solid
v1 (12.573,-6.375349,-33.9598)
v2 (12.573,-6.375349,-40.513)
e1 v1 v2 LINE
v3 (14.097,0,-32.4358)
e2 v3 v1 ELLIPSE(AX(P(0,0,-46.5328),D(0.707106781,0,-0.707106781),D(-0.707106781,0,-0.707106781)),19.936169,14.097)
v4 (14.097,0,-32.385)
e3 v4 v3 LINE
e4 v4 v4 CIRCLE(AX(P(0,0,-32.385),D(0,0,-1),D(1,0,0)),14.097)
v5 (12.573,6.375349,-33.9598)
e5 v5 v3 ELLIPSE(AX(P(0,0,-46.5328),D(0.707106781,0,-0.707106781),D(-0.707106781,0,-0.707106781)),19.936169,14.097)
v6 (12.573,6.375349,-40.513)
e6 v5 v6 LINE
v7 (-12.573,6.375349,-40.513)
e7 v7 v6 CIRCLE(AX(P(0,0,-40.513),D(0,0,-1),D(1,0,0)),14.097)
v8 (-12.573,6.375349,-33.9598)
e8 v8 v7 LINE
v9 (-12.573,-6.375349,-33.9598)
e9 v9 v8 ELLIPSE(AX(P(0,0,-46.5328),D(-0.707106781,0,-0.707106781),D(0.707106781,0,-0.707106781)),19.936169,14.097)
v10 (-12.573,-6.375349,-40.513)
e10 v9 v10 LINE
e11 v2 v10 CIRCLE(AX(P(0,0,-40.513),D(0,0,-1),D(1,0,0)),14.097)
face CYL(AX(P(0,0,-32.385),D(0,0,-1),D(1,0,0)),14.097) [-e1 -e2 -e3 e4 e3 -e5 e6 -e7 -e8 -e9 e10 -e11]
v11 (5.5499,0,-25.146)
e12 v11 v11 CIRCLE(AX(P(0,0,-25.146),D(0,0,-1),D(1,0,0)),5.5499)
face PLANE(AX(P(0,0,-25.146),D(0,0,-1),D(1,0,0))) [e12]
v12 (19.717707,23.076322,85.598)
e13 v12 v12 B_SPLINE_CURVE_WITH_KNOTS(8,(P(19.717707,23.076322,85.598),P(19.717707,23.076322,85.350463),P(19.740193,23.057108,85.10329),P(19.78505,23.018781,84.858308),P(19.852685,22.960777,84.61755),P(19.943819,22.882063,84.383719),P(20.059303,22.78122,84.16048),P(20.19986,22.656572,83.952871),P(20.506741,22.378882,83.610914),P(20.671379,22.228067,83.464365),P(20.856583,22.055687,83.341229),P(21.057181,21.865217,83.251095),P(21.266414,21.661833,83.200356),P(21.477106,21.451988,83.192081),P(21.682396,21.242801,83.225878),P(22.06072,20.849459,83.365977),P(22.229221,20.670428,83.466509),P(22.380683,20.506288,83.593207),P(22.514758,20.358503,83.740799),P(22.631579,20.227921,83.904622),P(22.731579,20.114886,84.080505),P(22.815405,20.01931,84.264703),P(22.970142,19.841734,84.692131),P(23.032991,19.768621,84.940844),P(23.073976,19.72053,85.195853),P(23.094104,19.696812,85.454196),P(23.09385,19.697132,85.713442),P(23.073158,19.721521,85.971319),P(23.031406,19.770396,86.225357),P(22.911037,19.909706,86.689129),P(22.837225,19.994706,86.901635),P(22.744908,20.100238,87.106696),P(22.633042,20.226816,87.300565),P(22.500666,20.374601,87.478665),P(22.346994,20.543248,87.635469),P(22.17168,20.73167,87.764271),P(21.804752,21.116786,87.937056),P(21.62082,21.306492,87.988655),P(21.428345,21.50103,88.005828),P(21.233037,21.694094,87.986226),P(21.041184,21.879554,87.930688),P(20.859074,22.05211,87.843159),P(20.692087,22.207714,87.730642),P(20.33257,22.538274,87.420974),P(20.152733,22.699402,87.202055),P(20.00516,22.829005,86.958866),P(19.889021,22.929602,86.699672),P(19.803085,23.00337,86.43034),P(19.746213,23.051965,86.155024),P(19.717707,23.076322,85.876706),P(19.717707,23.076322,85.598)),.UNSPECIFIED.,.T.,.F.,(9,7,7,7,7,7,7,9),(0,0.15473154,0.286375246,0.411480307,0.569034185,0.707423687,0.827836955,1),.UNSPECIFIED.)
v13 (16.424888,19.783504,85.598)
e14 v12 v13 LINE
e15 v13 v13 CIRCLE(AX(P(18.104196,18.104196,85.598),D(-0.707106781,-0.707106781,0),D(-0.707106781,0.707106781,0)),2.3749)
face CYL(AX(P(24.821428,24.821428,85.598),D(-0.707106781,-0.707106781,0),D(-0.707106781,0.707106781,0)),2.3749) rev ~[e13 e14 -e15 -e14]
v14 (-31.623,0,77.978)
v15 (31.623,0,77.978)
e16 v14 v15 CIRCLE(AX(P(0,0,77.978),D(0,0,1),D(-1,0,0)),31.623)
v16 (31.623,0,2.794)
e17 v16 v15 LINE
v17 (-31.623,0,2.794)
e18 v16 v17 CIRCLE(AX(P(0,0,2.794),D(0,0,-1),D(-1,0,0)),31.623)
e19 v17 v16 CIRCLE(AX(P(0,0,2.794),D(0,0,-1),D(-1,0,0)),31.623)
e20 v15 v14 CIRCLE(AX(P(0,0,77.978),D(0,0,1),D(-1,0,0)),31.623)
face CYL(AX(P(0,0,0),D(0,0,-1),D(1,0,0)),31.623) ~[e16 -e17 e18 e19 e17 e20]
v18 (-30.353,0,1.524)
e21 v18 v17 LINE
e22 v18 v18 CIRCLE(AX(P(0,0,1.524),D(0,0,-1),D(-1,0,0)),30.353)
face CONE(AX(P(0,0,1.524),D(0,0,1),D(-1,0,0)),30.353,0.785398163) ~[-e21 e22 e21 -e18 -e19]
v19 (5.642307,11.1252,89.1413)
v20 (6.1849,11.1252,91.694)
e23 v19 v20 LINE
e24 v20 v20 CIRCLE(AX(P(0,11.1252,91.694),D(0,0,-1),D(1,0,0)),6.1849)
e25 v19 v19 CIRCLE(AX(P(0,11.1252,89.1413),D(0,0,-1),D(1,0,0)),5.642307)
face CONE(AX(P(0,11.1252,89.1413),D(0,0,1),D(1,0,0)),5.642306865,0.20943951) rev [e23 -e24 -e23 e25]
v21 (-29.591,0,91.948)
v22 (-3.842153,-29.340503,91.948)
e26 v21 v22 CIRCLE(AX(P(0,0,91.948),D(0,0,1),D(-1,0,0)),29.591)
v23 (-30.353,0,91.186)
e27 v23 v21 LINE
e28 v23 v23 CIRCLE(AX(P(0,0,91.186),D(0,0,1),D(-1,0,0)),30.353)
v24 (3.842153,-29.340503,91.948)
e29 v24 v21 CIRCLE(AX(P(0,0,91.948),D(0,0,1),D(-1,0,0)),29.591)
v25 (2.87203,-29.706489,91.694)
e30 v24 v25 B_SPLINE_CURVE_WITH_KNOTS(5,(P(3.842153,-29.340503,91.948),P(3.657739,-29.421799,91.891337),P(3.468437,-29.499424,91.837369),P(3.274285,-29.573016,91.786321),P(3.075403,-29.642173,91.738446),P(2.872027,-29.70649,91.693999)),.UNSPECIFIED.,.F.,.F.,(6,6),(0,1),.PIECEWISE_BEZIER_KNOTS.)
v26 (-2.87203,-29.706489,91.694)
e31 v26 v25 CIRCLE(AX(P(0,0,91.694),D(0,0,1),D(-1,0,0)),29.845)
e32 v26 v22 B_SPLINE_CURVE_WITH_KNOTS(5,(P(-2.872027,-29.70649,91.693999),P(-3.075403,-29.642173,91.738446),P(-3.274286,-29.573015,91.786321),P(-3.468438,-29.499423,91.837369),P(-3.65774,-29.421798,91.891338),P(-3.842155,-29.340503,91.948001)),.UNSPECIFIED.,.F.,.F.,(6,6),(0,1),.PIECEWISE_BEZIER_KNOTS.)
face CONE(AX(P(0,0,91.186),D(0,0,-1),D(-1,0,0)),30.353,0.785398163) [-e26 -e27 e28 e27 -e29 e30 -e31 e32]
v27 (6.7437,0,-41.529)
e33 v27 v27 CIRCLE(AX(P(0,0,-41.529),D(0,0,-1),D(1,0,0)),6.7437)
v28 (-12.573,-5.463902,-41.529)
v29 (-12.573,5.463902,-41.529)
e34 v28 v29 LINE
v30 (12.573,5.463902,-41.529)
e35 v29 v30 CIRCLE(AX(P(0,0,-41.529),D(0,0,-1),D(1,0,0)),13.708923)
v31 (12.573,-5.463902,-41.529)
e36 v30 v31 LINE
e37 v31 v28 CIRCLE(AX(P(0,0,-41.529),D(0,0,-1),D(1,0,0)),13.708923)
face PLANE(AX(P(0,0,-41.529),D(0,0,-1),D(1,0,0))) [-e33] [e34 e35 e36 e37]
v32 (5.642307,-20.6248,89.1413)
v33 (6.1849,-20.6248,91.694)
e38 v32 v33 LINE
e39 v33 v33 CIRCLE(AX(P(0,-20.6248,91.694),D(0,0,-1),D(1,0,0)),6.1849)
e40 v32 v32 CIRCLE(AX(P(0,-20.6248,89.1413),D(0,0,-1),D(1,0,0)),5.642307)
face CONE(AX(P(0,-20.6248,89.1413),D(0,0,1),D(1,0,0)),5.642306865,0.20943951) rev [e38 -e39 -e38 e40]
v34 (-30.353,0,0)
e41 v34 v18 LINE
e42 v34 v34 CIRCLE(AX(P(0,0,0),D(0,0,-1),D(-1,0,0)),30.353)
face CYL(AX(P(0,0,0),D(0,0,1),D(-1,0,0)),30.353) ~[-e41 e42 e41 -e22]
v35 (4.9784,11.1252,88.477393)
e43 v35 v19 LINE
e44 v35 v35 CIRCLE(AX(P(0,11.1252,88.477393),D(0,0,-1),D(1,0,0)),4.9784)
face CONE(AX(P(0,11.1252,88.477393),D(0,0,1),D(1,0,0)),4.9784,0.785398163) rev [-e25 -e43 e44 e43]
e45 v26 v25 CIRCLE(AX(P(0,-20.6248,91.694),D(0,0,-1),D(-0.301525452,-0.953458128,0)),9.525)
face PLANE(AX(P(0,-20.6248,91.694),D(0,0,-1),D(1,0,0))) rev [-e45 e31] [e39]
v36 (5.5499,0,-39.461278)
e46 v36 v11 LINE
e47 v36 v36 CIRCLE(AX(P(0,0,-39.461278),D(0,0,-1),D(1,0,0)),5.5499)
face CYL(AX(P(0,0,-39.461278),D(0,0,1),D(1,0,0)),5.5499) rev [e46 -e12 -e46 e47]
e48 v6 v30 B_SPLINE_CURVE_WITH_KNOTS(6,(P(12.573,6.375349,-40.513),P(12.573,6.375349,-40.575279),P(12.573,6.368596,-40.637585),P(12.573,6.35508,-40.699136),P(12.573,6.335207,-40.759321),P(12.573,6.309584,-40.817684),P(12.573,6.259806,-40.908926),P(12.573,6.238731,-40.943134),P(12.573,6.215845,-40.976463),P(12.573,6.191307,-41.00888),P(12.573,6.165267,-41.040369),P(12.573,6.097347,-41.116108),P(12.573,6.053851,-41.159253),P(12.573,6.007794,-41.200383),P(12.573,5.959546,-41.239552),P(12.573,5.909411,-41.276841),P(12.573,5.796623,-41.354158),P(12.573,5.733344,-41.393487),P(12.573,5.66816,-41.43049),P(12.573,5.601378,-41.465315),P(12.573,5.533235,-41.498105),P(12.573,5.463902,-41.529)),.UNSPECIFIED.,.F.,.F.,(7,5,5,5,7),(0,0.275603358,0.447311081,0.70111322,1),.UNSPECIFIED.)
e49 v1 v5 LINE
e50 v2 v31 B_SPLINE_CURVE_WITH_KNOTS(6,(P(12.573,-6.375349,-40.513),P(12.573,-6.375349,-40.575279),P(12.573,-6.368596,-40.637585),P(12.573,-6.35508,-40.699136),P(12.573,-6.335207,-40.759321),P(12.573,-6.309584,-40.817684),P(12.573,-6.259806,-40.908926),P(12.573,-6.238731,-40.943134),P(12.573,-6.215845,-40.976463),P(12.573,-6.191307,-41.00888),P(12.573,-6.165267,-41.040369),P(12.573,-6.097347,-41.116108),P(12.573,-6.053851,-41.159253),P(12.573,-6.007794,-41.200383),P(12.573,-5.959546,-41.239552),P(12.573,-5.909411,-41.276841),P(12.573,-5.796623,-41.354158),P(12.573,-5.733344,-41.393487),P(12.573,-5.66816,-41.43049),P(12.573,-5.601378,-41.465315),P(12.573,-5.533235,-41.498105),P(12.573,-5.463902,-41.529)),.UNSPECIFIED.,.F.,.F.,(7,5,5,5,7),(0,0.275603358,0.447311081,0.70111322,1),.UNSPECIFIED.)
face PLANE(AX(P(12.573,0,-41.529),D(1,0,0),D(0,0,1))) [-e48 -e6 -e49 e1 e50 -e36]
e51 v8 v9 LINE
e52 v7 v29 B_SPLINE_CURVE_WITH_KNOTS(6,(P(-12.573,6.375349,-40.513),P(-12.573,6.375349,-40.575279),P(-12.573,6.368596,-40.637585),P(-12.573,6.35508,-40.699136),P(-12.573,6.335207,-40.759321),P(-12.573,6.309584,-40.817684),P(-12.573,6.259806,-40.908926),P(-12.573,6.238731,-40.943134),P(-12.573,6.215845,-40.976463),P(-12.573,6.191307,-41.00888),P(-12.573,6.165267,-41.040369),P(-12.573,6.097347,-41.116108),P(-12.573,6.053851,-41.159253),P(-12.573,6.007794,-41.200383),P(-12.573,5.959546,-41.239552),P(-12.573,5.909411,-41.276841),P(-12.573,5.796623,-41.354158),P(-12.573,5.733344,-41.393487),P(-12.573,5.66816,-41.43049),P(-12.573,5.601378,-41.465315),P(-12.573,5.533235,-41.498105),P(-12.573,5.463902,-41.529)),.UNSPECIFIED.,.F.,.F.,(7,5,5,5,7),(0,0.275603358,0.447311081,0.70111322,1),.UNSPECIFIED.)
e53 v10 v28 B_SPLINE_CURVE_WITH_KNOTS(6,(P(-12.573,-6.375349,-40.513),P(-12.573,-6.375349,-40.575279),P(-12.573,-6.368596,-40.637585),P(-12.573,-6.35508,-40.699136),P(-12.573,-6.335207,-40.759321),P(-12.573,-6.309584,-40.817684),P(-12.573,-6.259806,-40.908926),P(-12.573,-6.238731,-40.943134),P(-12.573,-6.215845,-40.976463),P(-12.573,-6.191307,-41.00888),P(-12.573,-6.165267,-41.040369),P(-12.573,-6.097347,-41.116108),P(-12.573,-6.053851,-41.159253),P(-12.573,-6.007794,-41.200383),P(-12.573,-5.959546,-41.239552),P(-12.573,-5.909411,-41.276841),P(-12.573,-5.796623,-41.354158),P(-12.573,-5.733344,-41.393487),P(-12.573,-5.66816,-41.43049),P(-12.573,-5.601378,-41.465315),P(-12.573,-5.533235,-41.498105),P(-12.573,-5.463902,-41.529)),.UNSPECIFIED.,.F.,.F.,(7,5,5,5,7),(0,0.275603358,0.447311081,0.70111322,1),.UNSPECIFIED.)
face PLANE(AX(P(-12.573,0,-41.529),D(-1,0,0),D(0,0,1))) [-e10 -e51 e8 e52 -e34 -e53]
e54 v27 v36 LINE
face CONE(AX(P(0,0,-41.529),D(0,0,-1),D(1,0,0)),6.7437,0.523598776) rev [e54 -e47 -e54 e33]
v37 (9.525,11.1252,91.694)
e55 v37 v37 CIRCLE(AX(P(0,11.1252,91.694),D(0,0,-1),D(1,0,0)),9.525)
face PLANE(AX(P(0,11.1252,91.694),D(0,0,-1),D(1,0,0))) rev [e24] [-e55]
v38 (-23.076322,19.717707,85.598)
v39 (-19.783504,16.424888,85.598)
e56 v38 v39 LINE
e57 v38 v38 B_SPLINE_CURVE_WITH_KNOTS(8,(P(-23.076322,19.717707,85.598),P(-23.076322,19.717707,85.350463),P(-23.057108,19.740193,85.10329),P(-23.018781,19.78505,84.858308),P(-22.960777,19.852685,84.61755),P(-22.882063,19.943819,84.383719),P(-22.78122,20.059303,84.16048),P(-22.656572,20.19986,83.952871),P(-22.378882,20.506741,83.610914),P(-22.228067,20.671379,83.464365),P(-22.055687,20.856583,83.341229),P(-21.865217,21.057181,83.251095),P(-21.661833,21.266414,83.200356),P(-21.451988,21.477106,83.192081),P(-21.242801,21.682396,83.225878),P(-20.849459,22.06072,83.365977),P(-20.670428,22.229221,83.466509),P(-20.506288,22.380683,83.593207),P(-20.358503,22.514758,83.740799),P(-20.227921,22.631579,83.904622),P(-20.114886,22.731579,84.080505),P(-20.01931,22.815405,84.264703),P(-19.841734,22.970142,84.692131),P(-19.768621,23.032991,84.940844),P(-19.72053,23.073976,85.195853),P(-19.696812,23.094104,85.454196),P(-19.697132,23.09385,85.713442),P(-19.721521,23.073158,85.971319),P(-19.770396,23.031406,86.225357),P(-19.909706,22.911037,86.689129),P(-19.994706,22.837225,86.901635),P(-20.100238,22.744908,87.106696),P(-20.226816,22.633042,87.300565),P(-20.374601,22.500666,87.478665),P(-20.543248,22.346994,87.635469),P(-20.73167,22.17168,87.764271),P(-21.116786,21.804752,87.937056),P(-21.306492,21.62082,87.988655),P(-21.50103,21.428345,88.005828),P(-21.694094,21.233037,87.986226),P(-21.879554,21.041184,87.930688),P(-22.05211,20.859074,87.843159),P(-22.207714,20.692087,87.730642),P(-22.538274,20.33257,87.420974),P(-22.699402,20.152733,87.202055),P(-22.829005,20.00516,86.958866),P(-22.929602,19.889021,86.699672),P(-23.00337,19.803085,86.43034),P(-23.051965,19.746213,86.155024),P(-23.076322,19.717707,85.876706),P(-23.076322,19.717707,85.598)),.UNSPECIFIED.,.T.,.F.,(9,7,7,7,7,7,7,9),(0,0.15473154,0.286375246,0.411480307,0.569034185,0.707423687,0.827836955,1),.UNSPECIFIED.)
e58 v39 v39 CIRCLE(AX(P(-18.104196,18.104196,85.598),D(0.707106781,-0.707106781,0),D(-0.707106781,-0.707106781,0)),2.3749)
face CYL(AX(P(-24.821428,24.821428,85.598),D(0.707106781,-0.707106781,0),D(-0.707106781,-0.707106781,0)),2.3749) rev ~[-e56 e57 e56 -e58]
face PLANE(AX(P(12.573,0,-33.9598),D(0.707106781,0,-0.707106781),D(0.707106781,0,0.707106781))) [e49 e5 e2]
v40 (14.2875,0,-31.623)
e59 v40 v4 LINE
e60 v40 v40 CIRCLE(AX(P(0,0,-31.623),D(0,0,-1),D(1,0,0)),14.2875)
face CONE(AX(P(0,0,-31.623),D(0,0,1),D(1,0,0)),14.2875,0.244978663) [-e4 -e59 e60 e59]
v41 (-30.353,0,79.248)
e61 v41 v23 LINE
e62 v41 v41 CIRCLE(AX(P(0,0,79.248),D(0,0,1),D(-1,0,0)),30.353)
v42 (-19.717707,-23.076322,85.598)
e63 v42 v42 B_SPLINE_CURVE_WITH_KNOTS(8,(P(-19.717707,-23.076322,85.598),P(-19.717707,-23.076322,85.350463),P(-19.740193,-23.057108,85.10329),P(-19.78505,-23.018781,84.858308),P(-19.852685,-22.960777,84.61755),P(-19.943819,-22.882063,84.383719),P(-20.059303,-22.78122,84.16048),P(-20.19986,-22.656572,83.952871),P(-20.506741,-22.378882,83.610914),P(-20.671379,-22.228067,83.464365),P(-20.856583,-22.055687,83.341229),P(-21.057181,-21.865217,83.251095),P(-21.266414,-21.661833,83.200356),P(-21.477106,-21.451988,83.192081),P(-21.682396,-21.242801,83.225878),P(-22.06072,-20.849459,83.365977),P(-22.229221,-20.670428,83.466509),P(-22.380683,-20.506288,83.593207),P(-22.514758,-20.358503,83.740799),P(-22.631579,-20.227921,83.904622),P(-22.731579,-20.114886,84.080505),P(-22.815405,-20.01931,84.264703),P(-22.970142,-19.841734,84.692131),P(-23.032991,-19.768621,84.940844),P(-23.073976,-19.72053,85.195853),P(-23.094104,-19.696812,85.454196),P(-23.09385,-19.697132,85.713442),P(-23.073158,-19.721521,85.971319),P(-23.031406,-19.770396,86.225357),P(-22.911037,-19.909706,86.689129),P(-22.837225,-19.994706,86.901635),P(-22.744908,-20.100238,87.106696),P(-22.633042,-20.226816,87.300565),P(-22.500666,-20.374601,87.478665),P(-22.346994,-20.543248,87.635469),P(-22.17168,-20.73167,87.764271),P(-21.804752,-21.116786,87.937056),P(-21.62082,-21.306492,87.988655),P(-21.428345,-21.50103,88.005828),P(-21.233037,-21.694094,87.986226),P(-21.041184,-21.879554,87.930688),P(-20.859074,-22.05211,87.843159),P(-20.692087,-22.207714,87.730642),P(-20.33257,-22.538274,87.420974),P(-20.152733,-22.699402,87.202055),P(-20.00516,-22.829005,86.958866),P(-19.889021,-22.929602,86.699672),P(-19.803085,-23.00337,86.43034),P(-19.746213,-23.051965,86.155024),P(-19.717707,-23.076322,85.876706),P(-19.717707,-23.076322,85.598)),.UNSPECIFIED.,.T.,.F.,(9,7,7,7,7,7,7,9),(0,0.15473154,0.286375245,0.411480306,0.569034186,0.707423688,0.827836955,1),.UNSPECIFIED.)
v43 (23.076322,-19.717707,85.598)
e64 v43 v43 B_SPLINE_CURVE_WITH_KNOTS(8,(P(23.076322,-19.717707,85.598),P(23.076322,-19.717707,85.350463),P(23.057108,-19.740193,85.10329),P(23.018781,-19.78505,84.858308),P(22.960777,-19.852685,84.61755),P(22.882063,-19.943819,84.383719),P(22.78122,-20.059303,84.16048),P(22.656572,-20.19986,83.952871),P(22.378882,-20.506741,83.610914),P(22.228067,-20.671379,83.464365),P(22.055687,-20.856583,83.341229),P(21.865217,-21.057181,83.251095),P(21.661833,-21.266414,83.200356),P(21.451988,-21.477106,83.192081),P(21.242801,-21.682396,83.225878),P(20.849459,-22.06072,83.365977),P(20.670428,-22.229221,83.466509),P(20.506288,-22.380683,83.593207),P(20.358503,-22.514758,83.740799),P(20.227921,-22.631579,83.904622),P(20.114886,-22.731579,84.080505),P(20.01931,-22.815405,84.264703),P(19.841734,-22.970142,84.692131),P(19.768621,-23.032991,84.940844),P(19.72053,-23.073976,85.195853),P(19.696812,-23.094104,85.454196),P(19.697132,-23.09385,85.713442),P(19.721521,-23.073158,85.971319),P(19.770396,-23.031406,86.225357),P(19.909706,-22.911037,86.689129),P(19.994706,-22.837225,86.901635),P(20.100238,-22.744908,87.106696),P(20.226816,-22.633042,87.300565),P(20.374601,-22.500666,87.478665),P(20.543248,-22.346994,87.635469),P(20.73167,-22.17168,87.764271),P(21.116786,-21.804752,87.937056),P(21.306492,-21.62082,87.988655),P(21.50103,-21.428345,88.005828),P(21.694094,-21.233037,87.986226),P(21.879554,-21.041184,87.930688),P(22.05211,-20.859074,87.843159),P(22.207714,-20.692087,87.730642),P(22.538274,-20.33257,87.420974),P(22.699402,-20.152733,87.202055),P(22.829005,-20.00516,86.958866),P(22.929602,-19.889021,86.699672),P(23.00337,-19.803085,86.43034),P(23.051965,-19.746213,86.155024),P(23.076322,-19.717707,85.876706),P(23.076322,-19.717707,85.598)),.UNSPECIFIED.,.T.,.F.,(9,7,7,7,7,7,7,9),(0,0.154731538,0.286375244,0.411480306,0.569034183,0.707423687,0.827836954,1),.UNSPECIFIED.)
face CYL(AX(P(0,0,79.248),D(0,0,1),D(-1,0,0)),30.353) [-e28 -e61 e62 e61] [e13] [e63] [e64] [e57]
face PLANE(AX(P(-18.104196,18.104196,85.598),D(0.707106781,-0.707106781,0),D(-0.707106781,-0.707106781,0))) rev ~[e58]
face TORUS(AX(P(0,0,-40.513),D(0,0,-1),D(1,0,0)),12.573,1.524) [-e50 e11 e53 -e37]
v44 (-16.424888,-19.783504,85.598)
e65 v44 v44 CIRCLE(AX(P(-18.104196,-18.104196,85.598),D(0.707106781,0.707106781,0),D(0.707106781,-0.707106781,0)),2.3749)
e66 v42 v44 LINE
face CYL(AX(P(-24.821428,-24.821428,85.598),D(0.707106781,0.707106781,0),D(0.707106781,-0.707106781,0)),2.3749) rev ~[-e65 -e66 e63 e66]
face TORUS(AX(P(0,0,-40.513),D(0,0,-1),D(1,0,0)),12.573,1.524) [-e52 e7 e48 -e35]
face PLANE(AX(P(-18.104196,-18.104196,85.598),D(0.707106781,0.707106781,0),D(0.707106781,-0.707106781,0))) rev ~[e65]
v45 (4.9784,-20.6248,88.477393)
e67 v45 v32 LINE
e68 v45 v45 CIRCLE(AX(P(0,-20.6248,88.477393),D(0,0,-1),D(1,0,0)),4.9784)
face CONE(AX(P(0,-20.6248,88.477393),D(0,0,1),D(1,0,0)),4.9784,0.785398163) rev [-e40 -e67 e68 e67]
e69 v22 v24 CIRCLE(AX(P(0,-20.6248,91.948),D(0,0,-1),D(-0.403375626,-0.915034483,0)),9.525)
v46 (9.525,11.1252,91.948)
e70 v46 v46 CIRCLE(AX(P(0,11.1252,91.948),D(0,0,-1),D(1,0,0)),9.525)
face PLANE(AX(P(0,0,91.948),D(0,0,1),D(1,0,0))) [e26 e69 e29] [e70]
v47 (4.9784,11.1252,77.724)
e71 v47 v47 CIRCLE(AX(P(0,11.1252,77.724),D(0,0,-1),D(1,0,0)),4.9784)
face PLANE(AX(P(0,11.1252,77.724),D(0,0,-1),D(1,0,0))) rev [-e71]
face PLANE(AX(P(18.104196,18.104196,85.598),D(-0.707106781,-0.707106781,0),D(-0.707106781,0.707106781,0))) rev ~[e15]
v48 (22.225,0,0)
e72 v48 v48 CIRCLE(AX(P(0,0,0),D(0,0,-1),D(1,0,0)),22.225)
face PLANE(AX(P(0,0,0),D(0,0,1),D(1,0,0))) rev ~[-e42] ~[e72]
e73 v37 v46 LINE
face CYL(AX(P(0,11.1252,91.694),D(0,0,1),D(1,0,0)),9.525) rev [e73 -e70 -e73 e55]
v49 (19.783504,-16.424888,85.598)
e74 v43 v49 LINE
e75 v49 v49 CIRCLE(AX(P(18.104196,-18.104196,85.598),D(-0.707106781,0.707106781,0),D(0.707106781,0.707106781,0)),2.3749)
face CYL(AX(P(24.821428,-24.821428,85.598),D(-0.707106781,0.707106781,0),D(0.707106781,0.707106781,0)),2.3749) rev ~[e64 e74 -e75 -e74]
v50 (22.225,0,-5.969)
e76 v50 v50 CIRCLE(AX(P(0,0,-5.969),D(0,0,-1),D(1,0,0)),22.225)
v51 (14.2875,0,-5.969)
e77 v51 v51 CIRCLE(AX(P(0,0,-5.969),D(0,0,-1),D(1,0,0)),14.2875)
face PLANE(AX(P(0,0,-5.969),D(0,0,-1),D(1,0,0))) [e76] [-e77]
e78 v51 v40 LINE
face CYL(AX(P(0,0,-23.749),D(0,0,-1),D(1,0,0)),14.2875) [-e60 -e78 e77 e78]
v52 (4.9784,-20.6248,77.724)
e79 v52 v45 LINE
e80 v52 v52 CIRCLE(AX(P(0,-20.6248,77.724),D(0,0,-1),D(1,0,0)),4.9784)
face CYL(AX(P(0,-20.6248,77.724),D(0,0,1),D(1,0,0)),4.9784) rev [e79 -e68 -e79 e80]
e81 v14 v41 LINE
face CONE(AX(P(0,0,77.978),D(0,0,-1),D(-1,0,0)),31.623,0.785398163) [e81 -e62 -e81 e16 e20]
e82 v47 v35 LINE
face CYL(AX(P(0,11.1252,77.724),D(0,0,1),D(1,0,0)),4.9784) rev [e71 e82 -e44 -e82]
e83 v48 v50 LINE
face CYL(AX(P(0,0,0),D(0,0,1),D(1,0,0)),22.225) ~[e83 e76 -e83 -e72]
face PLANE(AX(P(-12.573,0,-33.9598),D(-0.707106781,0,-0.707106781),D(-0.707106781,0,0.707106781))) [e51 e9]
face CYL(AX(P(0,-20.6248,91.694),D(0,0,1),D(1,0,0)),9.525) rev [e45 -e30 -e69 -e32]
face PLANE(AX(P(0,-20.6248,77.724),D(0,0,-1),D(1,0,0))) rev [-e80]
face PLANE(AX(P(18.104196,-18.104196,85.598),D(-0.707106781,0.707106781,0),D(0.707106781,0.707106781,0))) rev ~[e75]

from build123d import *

# Parameters (mm, degrees)
SKETCH1_R          = 31.623
EXTRUDE1_DEPTH     = 91.948
CHAMFER1_SIZE      = 0.762
SKETCH6_R          = 22.225
EXTRUDE2_DEPTH     = 5.969
SKETCH7_W          = 35.56
SKETCH7_H          = 14.2875
CUT_EXTRUDE4_DEPTH = 19.84248
HOLE1_D            = 4.7498
HOLE1_DEPTH        = 4.7498
CIRPATTERN1_COUNT  = 4
LPATTERN2_COUNT    = 2
LPATTERN2_PITCH    = 31.75


with BuildPart() as part:
    # Sketch1 → Extrude1 (new body)
    with BuildSketch(Plane.XY):
        Circle(SKETCH1_R)
    extrude(amount=EXTRUDE1_DEPTH)

    # Sketch2 → Cut-Revolve1 (revolve, cut)
    with BuildSketch(Plane(origin=(0, 0, 0), x_dir=(1, 0, 0), z_dir=(0, 1, 0)), mode=Mode.PRIVATE) as cut_revolve1_sk:
        Polygon((31.623, -91.948), (31.623, -77.978), (30.353, -79.248), (30.353, -91.948), align=None)
    revolve(cut_revolve1_sk.sketch.rotate(Axis((0, 0, 0), (0, 0, 1)), 180), axis=Axis((0, 0, 0), (0, 0, 1)), mode=Mode.SUBTRACT)  # turned: the seam where the file's is

    # Sketch3 → Cut-Revolve2 (revolve, cut)
    with BuildSketch(Plane(origin=(0, 0, 0), x_dir=(1, 0, 0), z_dir=(0, 1, 0)), mode=Mode.PRIVATE) as cut_revolve2_sk:
        Polygon((30.353, 0), (30.353, -1.524), (31.623, -2.794), (31.623, 0), align=None)
    revolve(cut_revolve2_sk.sketch.rotate(Axis((0, 0, 0), (0, 0, -1)), 180), axis=Axis((0, 0, 0), (0, 0, -1)), mode=Mode.SUBTRACT)  # turned: the seam where the file's is

    # S2D0002 → Cut-Revolve3 (revolve, cut)
    with BuildSketch(Plane(origin=(0, 0, 0), x_dir=(0, -1, 0), z_dir=(1, 0, 0)), mode=Mode.PRIVATE) as cut_revolve3_sk:
        Polygon((-4.9403, -91.694), (-1.6002, -91.694), (-1.6002, -91.948), (-11.1252, -91.948), (-11.1252, -77.724), (-6.1468, -77.724), (-6.1468, -88.477393135), (-5.482893135, -89.1413), align=None)
    cut_revolve3 = revolve(cut_revolve3_sk.sketch.rotate(Axis((0, 11.1252, 14.6685), (0, 0, -1)), 270), axis=Axis((0, 11.1252, 14.6685), (0, 0, -1)), mode=Mode.SUBTRACT)  # turned: the seam where the file's is

    # Chamfer1
    chamfer1_edges = [part.edges().sort_by_distance(p)[0] for p in [
        (30.353, 0, 91.948),
    ]]
    chamfer(chamfer1_edges, length=CHAMFER1_SIZE)

    # Sketch6 → Extrude2 (add)
    with BuildSketch(Plane(origin=(0, 0, 0), x_dir=(-1, 0, 0), z_dir=(0, 0, -1))):
        with Locations(Location((0, 0, 0), (0, 0, 180))):  # turned: the seam where the file's is
            Circle(SKETCH6_R)
    extrude(amount=EXTRUDE2_DEPTH)

    # Sketch7 → Revolve1 (revolve)
    with BuildSketch(Plane(origin=(0, 0, 0), x_dir=(0, 0, -1), z_dir=(1, 0, 0)), mode=Mode.PRIVATE) as revolve1_sk:
        with Locations((23.749, -7.14375)):
            Rectangle(SKETCH7_W, SKETCH7_H)
    revolve(revolve1_sk.sketch.rotate(Axis((0, 0, 0), (0, 0, -1)), 270), axis=Axis((0, 0, 0), (0, 0, -1)))  # turned: the seam where the file's is

    # S2D0001 → Cut-Revolve5 (revolve, cut)
    with BuildSketch(Plane(origin=(0, 0, 0), x_dir=(1, 0, 0), z_dir=(0, 1, 0))):
        Polygon((5.5499, 39.461277746), (5.5499, 25.146), (0, 25.146), (0, 41.529), (6.7437, 41.529), align=None)
    revolve(axis=Axis((0, 0, 31.308359971), (0, 0, -1)), mode=Mode.SUBTRACT)

    # Sketch9 → Cut-Revolve6 (revolve, cut)
    with BuildSketch(Plane(origin=(0, 0, 0), x_dir=(0, -1, 0), z_dir=(1, 0, 0)), mode=Mode.PRIVATE) as cut_revolve6_sk:
        with BuildLine():
            Line((-14.2875, 31.623), (-14.097, 32.385))
            Line((-14.097, 32.385), (-14.097, 40.513))
            ThreePointArc((-14.097, 40.513), (-13.996678675, 41.056796865), (-13.708922533, 41.529))
            Line((-13.708922533, 41.529), (-14.2875, 41.529))
            Line((-14.2875, 41.529), (-14.2875, 31.623))
        make_face()
    revolve(cut_revolve6_sk.sketch.rotate(Axis((0, 0, -12.65936), (0, 0, -1)), 90), axis=Axis((0, 0, -12.65936), (0, 0, -1)), mode=Mode.SUBTRACT)  # turned: the seam where the file's is

    # Sketch13 → Cut-Extrude4 (cut, symmetric)
    with BuildSketch(Plane(origin=(0, 0, 0), x_dir=(1, 0, 0), z_dir=(0, 1, 0))):
        Polygon((12.573, 41.529), (12.573, 33.9598), (14.2875, 32.2453), (14.2875, 41.529), align=None)
        Polygon((-12.573, 41.529), (-12.573, 33.9598), (-14.2875, 32.2453), (-14.2875, 41.529), align=None)
    extrude(amount=CUT_EXTRUDE4_DEPTH, both=True, mode=Mode.SUBTRACT)

    # Hole1
    with Locations(Plane(origin=(-21.462812129, 21.462812129, 85.598), x_dir=(0.707106781, 0.707106781, 0), z_dir=(-0.707106781, 0.707106781, 0))):
        with Locations((0, 0)):
            hole1 = Hole(HOLE1_D / 2, depth=HOLE1_DEPTH)

    # CirPattern1: Hole1 ×4 about axis
    cirpattern1_axis = Axis((0, 0, 0), (0, 0, 1))
    for i in range(1, CIRPATTERN1_COUNT):
        add(hole1.rotate(cirpattern1_axis, i * 360 / CIRPATTERN1_COUNT), mode=Mode.SUBTRACT)

    # LPattern2: Cut-Revolve3 ×2
    with Locations(*[(0, -i * LPATTERN2_PITCH, 0) for i in range(1, LPATTERN2_COUNT)]):
        add(cut_revolve3, mode=Mode.SUBTRACT)


solid = part.part
